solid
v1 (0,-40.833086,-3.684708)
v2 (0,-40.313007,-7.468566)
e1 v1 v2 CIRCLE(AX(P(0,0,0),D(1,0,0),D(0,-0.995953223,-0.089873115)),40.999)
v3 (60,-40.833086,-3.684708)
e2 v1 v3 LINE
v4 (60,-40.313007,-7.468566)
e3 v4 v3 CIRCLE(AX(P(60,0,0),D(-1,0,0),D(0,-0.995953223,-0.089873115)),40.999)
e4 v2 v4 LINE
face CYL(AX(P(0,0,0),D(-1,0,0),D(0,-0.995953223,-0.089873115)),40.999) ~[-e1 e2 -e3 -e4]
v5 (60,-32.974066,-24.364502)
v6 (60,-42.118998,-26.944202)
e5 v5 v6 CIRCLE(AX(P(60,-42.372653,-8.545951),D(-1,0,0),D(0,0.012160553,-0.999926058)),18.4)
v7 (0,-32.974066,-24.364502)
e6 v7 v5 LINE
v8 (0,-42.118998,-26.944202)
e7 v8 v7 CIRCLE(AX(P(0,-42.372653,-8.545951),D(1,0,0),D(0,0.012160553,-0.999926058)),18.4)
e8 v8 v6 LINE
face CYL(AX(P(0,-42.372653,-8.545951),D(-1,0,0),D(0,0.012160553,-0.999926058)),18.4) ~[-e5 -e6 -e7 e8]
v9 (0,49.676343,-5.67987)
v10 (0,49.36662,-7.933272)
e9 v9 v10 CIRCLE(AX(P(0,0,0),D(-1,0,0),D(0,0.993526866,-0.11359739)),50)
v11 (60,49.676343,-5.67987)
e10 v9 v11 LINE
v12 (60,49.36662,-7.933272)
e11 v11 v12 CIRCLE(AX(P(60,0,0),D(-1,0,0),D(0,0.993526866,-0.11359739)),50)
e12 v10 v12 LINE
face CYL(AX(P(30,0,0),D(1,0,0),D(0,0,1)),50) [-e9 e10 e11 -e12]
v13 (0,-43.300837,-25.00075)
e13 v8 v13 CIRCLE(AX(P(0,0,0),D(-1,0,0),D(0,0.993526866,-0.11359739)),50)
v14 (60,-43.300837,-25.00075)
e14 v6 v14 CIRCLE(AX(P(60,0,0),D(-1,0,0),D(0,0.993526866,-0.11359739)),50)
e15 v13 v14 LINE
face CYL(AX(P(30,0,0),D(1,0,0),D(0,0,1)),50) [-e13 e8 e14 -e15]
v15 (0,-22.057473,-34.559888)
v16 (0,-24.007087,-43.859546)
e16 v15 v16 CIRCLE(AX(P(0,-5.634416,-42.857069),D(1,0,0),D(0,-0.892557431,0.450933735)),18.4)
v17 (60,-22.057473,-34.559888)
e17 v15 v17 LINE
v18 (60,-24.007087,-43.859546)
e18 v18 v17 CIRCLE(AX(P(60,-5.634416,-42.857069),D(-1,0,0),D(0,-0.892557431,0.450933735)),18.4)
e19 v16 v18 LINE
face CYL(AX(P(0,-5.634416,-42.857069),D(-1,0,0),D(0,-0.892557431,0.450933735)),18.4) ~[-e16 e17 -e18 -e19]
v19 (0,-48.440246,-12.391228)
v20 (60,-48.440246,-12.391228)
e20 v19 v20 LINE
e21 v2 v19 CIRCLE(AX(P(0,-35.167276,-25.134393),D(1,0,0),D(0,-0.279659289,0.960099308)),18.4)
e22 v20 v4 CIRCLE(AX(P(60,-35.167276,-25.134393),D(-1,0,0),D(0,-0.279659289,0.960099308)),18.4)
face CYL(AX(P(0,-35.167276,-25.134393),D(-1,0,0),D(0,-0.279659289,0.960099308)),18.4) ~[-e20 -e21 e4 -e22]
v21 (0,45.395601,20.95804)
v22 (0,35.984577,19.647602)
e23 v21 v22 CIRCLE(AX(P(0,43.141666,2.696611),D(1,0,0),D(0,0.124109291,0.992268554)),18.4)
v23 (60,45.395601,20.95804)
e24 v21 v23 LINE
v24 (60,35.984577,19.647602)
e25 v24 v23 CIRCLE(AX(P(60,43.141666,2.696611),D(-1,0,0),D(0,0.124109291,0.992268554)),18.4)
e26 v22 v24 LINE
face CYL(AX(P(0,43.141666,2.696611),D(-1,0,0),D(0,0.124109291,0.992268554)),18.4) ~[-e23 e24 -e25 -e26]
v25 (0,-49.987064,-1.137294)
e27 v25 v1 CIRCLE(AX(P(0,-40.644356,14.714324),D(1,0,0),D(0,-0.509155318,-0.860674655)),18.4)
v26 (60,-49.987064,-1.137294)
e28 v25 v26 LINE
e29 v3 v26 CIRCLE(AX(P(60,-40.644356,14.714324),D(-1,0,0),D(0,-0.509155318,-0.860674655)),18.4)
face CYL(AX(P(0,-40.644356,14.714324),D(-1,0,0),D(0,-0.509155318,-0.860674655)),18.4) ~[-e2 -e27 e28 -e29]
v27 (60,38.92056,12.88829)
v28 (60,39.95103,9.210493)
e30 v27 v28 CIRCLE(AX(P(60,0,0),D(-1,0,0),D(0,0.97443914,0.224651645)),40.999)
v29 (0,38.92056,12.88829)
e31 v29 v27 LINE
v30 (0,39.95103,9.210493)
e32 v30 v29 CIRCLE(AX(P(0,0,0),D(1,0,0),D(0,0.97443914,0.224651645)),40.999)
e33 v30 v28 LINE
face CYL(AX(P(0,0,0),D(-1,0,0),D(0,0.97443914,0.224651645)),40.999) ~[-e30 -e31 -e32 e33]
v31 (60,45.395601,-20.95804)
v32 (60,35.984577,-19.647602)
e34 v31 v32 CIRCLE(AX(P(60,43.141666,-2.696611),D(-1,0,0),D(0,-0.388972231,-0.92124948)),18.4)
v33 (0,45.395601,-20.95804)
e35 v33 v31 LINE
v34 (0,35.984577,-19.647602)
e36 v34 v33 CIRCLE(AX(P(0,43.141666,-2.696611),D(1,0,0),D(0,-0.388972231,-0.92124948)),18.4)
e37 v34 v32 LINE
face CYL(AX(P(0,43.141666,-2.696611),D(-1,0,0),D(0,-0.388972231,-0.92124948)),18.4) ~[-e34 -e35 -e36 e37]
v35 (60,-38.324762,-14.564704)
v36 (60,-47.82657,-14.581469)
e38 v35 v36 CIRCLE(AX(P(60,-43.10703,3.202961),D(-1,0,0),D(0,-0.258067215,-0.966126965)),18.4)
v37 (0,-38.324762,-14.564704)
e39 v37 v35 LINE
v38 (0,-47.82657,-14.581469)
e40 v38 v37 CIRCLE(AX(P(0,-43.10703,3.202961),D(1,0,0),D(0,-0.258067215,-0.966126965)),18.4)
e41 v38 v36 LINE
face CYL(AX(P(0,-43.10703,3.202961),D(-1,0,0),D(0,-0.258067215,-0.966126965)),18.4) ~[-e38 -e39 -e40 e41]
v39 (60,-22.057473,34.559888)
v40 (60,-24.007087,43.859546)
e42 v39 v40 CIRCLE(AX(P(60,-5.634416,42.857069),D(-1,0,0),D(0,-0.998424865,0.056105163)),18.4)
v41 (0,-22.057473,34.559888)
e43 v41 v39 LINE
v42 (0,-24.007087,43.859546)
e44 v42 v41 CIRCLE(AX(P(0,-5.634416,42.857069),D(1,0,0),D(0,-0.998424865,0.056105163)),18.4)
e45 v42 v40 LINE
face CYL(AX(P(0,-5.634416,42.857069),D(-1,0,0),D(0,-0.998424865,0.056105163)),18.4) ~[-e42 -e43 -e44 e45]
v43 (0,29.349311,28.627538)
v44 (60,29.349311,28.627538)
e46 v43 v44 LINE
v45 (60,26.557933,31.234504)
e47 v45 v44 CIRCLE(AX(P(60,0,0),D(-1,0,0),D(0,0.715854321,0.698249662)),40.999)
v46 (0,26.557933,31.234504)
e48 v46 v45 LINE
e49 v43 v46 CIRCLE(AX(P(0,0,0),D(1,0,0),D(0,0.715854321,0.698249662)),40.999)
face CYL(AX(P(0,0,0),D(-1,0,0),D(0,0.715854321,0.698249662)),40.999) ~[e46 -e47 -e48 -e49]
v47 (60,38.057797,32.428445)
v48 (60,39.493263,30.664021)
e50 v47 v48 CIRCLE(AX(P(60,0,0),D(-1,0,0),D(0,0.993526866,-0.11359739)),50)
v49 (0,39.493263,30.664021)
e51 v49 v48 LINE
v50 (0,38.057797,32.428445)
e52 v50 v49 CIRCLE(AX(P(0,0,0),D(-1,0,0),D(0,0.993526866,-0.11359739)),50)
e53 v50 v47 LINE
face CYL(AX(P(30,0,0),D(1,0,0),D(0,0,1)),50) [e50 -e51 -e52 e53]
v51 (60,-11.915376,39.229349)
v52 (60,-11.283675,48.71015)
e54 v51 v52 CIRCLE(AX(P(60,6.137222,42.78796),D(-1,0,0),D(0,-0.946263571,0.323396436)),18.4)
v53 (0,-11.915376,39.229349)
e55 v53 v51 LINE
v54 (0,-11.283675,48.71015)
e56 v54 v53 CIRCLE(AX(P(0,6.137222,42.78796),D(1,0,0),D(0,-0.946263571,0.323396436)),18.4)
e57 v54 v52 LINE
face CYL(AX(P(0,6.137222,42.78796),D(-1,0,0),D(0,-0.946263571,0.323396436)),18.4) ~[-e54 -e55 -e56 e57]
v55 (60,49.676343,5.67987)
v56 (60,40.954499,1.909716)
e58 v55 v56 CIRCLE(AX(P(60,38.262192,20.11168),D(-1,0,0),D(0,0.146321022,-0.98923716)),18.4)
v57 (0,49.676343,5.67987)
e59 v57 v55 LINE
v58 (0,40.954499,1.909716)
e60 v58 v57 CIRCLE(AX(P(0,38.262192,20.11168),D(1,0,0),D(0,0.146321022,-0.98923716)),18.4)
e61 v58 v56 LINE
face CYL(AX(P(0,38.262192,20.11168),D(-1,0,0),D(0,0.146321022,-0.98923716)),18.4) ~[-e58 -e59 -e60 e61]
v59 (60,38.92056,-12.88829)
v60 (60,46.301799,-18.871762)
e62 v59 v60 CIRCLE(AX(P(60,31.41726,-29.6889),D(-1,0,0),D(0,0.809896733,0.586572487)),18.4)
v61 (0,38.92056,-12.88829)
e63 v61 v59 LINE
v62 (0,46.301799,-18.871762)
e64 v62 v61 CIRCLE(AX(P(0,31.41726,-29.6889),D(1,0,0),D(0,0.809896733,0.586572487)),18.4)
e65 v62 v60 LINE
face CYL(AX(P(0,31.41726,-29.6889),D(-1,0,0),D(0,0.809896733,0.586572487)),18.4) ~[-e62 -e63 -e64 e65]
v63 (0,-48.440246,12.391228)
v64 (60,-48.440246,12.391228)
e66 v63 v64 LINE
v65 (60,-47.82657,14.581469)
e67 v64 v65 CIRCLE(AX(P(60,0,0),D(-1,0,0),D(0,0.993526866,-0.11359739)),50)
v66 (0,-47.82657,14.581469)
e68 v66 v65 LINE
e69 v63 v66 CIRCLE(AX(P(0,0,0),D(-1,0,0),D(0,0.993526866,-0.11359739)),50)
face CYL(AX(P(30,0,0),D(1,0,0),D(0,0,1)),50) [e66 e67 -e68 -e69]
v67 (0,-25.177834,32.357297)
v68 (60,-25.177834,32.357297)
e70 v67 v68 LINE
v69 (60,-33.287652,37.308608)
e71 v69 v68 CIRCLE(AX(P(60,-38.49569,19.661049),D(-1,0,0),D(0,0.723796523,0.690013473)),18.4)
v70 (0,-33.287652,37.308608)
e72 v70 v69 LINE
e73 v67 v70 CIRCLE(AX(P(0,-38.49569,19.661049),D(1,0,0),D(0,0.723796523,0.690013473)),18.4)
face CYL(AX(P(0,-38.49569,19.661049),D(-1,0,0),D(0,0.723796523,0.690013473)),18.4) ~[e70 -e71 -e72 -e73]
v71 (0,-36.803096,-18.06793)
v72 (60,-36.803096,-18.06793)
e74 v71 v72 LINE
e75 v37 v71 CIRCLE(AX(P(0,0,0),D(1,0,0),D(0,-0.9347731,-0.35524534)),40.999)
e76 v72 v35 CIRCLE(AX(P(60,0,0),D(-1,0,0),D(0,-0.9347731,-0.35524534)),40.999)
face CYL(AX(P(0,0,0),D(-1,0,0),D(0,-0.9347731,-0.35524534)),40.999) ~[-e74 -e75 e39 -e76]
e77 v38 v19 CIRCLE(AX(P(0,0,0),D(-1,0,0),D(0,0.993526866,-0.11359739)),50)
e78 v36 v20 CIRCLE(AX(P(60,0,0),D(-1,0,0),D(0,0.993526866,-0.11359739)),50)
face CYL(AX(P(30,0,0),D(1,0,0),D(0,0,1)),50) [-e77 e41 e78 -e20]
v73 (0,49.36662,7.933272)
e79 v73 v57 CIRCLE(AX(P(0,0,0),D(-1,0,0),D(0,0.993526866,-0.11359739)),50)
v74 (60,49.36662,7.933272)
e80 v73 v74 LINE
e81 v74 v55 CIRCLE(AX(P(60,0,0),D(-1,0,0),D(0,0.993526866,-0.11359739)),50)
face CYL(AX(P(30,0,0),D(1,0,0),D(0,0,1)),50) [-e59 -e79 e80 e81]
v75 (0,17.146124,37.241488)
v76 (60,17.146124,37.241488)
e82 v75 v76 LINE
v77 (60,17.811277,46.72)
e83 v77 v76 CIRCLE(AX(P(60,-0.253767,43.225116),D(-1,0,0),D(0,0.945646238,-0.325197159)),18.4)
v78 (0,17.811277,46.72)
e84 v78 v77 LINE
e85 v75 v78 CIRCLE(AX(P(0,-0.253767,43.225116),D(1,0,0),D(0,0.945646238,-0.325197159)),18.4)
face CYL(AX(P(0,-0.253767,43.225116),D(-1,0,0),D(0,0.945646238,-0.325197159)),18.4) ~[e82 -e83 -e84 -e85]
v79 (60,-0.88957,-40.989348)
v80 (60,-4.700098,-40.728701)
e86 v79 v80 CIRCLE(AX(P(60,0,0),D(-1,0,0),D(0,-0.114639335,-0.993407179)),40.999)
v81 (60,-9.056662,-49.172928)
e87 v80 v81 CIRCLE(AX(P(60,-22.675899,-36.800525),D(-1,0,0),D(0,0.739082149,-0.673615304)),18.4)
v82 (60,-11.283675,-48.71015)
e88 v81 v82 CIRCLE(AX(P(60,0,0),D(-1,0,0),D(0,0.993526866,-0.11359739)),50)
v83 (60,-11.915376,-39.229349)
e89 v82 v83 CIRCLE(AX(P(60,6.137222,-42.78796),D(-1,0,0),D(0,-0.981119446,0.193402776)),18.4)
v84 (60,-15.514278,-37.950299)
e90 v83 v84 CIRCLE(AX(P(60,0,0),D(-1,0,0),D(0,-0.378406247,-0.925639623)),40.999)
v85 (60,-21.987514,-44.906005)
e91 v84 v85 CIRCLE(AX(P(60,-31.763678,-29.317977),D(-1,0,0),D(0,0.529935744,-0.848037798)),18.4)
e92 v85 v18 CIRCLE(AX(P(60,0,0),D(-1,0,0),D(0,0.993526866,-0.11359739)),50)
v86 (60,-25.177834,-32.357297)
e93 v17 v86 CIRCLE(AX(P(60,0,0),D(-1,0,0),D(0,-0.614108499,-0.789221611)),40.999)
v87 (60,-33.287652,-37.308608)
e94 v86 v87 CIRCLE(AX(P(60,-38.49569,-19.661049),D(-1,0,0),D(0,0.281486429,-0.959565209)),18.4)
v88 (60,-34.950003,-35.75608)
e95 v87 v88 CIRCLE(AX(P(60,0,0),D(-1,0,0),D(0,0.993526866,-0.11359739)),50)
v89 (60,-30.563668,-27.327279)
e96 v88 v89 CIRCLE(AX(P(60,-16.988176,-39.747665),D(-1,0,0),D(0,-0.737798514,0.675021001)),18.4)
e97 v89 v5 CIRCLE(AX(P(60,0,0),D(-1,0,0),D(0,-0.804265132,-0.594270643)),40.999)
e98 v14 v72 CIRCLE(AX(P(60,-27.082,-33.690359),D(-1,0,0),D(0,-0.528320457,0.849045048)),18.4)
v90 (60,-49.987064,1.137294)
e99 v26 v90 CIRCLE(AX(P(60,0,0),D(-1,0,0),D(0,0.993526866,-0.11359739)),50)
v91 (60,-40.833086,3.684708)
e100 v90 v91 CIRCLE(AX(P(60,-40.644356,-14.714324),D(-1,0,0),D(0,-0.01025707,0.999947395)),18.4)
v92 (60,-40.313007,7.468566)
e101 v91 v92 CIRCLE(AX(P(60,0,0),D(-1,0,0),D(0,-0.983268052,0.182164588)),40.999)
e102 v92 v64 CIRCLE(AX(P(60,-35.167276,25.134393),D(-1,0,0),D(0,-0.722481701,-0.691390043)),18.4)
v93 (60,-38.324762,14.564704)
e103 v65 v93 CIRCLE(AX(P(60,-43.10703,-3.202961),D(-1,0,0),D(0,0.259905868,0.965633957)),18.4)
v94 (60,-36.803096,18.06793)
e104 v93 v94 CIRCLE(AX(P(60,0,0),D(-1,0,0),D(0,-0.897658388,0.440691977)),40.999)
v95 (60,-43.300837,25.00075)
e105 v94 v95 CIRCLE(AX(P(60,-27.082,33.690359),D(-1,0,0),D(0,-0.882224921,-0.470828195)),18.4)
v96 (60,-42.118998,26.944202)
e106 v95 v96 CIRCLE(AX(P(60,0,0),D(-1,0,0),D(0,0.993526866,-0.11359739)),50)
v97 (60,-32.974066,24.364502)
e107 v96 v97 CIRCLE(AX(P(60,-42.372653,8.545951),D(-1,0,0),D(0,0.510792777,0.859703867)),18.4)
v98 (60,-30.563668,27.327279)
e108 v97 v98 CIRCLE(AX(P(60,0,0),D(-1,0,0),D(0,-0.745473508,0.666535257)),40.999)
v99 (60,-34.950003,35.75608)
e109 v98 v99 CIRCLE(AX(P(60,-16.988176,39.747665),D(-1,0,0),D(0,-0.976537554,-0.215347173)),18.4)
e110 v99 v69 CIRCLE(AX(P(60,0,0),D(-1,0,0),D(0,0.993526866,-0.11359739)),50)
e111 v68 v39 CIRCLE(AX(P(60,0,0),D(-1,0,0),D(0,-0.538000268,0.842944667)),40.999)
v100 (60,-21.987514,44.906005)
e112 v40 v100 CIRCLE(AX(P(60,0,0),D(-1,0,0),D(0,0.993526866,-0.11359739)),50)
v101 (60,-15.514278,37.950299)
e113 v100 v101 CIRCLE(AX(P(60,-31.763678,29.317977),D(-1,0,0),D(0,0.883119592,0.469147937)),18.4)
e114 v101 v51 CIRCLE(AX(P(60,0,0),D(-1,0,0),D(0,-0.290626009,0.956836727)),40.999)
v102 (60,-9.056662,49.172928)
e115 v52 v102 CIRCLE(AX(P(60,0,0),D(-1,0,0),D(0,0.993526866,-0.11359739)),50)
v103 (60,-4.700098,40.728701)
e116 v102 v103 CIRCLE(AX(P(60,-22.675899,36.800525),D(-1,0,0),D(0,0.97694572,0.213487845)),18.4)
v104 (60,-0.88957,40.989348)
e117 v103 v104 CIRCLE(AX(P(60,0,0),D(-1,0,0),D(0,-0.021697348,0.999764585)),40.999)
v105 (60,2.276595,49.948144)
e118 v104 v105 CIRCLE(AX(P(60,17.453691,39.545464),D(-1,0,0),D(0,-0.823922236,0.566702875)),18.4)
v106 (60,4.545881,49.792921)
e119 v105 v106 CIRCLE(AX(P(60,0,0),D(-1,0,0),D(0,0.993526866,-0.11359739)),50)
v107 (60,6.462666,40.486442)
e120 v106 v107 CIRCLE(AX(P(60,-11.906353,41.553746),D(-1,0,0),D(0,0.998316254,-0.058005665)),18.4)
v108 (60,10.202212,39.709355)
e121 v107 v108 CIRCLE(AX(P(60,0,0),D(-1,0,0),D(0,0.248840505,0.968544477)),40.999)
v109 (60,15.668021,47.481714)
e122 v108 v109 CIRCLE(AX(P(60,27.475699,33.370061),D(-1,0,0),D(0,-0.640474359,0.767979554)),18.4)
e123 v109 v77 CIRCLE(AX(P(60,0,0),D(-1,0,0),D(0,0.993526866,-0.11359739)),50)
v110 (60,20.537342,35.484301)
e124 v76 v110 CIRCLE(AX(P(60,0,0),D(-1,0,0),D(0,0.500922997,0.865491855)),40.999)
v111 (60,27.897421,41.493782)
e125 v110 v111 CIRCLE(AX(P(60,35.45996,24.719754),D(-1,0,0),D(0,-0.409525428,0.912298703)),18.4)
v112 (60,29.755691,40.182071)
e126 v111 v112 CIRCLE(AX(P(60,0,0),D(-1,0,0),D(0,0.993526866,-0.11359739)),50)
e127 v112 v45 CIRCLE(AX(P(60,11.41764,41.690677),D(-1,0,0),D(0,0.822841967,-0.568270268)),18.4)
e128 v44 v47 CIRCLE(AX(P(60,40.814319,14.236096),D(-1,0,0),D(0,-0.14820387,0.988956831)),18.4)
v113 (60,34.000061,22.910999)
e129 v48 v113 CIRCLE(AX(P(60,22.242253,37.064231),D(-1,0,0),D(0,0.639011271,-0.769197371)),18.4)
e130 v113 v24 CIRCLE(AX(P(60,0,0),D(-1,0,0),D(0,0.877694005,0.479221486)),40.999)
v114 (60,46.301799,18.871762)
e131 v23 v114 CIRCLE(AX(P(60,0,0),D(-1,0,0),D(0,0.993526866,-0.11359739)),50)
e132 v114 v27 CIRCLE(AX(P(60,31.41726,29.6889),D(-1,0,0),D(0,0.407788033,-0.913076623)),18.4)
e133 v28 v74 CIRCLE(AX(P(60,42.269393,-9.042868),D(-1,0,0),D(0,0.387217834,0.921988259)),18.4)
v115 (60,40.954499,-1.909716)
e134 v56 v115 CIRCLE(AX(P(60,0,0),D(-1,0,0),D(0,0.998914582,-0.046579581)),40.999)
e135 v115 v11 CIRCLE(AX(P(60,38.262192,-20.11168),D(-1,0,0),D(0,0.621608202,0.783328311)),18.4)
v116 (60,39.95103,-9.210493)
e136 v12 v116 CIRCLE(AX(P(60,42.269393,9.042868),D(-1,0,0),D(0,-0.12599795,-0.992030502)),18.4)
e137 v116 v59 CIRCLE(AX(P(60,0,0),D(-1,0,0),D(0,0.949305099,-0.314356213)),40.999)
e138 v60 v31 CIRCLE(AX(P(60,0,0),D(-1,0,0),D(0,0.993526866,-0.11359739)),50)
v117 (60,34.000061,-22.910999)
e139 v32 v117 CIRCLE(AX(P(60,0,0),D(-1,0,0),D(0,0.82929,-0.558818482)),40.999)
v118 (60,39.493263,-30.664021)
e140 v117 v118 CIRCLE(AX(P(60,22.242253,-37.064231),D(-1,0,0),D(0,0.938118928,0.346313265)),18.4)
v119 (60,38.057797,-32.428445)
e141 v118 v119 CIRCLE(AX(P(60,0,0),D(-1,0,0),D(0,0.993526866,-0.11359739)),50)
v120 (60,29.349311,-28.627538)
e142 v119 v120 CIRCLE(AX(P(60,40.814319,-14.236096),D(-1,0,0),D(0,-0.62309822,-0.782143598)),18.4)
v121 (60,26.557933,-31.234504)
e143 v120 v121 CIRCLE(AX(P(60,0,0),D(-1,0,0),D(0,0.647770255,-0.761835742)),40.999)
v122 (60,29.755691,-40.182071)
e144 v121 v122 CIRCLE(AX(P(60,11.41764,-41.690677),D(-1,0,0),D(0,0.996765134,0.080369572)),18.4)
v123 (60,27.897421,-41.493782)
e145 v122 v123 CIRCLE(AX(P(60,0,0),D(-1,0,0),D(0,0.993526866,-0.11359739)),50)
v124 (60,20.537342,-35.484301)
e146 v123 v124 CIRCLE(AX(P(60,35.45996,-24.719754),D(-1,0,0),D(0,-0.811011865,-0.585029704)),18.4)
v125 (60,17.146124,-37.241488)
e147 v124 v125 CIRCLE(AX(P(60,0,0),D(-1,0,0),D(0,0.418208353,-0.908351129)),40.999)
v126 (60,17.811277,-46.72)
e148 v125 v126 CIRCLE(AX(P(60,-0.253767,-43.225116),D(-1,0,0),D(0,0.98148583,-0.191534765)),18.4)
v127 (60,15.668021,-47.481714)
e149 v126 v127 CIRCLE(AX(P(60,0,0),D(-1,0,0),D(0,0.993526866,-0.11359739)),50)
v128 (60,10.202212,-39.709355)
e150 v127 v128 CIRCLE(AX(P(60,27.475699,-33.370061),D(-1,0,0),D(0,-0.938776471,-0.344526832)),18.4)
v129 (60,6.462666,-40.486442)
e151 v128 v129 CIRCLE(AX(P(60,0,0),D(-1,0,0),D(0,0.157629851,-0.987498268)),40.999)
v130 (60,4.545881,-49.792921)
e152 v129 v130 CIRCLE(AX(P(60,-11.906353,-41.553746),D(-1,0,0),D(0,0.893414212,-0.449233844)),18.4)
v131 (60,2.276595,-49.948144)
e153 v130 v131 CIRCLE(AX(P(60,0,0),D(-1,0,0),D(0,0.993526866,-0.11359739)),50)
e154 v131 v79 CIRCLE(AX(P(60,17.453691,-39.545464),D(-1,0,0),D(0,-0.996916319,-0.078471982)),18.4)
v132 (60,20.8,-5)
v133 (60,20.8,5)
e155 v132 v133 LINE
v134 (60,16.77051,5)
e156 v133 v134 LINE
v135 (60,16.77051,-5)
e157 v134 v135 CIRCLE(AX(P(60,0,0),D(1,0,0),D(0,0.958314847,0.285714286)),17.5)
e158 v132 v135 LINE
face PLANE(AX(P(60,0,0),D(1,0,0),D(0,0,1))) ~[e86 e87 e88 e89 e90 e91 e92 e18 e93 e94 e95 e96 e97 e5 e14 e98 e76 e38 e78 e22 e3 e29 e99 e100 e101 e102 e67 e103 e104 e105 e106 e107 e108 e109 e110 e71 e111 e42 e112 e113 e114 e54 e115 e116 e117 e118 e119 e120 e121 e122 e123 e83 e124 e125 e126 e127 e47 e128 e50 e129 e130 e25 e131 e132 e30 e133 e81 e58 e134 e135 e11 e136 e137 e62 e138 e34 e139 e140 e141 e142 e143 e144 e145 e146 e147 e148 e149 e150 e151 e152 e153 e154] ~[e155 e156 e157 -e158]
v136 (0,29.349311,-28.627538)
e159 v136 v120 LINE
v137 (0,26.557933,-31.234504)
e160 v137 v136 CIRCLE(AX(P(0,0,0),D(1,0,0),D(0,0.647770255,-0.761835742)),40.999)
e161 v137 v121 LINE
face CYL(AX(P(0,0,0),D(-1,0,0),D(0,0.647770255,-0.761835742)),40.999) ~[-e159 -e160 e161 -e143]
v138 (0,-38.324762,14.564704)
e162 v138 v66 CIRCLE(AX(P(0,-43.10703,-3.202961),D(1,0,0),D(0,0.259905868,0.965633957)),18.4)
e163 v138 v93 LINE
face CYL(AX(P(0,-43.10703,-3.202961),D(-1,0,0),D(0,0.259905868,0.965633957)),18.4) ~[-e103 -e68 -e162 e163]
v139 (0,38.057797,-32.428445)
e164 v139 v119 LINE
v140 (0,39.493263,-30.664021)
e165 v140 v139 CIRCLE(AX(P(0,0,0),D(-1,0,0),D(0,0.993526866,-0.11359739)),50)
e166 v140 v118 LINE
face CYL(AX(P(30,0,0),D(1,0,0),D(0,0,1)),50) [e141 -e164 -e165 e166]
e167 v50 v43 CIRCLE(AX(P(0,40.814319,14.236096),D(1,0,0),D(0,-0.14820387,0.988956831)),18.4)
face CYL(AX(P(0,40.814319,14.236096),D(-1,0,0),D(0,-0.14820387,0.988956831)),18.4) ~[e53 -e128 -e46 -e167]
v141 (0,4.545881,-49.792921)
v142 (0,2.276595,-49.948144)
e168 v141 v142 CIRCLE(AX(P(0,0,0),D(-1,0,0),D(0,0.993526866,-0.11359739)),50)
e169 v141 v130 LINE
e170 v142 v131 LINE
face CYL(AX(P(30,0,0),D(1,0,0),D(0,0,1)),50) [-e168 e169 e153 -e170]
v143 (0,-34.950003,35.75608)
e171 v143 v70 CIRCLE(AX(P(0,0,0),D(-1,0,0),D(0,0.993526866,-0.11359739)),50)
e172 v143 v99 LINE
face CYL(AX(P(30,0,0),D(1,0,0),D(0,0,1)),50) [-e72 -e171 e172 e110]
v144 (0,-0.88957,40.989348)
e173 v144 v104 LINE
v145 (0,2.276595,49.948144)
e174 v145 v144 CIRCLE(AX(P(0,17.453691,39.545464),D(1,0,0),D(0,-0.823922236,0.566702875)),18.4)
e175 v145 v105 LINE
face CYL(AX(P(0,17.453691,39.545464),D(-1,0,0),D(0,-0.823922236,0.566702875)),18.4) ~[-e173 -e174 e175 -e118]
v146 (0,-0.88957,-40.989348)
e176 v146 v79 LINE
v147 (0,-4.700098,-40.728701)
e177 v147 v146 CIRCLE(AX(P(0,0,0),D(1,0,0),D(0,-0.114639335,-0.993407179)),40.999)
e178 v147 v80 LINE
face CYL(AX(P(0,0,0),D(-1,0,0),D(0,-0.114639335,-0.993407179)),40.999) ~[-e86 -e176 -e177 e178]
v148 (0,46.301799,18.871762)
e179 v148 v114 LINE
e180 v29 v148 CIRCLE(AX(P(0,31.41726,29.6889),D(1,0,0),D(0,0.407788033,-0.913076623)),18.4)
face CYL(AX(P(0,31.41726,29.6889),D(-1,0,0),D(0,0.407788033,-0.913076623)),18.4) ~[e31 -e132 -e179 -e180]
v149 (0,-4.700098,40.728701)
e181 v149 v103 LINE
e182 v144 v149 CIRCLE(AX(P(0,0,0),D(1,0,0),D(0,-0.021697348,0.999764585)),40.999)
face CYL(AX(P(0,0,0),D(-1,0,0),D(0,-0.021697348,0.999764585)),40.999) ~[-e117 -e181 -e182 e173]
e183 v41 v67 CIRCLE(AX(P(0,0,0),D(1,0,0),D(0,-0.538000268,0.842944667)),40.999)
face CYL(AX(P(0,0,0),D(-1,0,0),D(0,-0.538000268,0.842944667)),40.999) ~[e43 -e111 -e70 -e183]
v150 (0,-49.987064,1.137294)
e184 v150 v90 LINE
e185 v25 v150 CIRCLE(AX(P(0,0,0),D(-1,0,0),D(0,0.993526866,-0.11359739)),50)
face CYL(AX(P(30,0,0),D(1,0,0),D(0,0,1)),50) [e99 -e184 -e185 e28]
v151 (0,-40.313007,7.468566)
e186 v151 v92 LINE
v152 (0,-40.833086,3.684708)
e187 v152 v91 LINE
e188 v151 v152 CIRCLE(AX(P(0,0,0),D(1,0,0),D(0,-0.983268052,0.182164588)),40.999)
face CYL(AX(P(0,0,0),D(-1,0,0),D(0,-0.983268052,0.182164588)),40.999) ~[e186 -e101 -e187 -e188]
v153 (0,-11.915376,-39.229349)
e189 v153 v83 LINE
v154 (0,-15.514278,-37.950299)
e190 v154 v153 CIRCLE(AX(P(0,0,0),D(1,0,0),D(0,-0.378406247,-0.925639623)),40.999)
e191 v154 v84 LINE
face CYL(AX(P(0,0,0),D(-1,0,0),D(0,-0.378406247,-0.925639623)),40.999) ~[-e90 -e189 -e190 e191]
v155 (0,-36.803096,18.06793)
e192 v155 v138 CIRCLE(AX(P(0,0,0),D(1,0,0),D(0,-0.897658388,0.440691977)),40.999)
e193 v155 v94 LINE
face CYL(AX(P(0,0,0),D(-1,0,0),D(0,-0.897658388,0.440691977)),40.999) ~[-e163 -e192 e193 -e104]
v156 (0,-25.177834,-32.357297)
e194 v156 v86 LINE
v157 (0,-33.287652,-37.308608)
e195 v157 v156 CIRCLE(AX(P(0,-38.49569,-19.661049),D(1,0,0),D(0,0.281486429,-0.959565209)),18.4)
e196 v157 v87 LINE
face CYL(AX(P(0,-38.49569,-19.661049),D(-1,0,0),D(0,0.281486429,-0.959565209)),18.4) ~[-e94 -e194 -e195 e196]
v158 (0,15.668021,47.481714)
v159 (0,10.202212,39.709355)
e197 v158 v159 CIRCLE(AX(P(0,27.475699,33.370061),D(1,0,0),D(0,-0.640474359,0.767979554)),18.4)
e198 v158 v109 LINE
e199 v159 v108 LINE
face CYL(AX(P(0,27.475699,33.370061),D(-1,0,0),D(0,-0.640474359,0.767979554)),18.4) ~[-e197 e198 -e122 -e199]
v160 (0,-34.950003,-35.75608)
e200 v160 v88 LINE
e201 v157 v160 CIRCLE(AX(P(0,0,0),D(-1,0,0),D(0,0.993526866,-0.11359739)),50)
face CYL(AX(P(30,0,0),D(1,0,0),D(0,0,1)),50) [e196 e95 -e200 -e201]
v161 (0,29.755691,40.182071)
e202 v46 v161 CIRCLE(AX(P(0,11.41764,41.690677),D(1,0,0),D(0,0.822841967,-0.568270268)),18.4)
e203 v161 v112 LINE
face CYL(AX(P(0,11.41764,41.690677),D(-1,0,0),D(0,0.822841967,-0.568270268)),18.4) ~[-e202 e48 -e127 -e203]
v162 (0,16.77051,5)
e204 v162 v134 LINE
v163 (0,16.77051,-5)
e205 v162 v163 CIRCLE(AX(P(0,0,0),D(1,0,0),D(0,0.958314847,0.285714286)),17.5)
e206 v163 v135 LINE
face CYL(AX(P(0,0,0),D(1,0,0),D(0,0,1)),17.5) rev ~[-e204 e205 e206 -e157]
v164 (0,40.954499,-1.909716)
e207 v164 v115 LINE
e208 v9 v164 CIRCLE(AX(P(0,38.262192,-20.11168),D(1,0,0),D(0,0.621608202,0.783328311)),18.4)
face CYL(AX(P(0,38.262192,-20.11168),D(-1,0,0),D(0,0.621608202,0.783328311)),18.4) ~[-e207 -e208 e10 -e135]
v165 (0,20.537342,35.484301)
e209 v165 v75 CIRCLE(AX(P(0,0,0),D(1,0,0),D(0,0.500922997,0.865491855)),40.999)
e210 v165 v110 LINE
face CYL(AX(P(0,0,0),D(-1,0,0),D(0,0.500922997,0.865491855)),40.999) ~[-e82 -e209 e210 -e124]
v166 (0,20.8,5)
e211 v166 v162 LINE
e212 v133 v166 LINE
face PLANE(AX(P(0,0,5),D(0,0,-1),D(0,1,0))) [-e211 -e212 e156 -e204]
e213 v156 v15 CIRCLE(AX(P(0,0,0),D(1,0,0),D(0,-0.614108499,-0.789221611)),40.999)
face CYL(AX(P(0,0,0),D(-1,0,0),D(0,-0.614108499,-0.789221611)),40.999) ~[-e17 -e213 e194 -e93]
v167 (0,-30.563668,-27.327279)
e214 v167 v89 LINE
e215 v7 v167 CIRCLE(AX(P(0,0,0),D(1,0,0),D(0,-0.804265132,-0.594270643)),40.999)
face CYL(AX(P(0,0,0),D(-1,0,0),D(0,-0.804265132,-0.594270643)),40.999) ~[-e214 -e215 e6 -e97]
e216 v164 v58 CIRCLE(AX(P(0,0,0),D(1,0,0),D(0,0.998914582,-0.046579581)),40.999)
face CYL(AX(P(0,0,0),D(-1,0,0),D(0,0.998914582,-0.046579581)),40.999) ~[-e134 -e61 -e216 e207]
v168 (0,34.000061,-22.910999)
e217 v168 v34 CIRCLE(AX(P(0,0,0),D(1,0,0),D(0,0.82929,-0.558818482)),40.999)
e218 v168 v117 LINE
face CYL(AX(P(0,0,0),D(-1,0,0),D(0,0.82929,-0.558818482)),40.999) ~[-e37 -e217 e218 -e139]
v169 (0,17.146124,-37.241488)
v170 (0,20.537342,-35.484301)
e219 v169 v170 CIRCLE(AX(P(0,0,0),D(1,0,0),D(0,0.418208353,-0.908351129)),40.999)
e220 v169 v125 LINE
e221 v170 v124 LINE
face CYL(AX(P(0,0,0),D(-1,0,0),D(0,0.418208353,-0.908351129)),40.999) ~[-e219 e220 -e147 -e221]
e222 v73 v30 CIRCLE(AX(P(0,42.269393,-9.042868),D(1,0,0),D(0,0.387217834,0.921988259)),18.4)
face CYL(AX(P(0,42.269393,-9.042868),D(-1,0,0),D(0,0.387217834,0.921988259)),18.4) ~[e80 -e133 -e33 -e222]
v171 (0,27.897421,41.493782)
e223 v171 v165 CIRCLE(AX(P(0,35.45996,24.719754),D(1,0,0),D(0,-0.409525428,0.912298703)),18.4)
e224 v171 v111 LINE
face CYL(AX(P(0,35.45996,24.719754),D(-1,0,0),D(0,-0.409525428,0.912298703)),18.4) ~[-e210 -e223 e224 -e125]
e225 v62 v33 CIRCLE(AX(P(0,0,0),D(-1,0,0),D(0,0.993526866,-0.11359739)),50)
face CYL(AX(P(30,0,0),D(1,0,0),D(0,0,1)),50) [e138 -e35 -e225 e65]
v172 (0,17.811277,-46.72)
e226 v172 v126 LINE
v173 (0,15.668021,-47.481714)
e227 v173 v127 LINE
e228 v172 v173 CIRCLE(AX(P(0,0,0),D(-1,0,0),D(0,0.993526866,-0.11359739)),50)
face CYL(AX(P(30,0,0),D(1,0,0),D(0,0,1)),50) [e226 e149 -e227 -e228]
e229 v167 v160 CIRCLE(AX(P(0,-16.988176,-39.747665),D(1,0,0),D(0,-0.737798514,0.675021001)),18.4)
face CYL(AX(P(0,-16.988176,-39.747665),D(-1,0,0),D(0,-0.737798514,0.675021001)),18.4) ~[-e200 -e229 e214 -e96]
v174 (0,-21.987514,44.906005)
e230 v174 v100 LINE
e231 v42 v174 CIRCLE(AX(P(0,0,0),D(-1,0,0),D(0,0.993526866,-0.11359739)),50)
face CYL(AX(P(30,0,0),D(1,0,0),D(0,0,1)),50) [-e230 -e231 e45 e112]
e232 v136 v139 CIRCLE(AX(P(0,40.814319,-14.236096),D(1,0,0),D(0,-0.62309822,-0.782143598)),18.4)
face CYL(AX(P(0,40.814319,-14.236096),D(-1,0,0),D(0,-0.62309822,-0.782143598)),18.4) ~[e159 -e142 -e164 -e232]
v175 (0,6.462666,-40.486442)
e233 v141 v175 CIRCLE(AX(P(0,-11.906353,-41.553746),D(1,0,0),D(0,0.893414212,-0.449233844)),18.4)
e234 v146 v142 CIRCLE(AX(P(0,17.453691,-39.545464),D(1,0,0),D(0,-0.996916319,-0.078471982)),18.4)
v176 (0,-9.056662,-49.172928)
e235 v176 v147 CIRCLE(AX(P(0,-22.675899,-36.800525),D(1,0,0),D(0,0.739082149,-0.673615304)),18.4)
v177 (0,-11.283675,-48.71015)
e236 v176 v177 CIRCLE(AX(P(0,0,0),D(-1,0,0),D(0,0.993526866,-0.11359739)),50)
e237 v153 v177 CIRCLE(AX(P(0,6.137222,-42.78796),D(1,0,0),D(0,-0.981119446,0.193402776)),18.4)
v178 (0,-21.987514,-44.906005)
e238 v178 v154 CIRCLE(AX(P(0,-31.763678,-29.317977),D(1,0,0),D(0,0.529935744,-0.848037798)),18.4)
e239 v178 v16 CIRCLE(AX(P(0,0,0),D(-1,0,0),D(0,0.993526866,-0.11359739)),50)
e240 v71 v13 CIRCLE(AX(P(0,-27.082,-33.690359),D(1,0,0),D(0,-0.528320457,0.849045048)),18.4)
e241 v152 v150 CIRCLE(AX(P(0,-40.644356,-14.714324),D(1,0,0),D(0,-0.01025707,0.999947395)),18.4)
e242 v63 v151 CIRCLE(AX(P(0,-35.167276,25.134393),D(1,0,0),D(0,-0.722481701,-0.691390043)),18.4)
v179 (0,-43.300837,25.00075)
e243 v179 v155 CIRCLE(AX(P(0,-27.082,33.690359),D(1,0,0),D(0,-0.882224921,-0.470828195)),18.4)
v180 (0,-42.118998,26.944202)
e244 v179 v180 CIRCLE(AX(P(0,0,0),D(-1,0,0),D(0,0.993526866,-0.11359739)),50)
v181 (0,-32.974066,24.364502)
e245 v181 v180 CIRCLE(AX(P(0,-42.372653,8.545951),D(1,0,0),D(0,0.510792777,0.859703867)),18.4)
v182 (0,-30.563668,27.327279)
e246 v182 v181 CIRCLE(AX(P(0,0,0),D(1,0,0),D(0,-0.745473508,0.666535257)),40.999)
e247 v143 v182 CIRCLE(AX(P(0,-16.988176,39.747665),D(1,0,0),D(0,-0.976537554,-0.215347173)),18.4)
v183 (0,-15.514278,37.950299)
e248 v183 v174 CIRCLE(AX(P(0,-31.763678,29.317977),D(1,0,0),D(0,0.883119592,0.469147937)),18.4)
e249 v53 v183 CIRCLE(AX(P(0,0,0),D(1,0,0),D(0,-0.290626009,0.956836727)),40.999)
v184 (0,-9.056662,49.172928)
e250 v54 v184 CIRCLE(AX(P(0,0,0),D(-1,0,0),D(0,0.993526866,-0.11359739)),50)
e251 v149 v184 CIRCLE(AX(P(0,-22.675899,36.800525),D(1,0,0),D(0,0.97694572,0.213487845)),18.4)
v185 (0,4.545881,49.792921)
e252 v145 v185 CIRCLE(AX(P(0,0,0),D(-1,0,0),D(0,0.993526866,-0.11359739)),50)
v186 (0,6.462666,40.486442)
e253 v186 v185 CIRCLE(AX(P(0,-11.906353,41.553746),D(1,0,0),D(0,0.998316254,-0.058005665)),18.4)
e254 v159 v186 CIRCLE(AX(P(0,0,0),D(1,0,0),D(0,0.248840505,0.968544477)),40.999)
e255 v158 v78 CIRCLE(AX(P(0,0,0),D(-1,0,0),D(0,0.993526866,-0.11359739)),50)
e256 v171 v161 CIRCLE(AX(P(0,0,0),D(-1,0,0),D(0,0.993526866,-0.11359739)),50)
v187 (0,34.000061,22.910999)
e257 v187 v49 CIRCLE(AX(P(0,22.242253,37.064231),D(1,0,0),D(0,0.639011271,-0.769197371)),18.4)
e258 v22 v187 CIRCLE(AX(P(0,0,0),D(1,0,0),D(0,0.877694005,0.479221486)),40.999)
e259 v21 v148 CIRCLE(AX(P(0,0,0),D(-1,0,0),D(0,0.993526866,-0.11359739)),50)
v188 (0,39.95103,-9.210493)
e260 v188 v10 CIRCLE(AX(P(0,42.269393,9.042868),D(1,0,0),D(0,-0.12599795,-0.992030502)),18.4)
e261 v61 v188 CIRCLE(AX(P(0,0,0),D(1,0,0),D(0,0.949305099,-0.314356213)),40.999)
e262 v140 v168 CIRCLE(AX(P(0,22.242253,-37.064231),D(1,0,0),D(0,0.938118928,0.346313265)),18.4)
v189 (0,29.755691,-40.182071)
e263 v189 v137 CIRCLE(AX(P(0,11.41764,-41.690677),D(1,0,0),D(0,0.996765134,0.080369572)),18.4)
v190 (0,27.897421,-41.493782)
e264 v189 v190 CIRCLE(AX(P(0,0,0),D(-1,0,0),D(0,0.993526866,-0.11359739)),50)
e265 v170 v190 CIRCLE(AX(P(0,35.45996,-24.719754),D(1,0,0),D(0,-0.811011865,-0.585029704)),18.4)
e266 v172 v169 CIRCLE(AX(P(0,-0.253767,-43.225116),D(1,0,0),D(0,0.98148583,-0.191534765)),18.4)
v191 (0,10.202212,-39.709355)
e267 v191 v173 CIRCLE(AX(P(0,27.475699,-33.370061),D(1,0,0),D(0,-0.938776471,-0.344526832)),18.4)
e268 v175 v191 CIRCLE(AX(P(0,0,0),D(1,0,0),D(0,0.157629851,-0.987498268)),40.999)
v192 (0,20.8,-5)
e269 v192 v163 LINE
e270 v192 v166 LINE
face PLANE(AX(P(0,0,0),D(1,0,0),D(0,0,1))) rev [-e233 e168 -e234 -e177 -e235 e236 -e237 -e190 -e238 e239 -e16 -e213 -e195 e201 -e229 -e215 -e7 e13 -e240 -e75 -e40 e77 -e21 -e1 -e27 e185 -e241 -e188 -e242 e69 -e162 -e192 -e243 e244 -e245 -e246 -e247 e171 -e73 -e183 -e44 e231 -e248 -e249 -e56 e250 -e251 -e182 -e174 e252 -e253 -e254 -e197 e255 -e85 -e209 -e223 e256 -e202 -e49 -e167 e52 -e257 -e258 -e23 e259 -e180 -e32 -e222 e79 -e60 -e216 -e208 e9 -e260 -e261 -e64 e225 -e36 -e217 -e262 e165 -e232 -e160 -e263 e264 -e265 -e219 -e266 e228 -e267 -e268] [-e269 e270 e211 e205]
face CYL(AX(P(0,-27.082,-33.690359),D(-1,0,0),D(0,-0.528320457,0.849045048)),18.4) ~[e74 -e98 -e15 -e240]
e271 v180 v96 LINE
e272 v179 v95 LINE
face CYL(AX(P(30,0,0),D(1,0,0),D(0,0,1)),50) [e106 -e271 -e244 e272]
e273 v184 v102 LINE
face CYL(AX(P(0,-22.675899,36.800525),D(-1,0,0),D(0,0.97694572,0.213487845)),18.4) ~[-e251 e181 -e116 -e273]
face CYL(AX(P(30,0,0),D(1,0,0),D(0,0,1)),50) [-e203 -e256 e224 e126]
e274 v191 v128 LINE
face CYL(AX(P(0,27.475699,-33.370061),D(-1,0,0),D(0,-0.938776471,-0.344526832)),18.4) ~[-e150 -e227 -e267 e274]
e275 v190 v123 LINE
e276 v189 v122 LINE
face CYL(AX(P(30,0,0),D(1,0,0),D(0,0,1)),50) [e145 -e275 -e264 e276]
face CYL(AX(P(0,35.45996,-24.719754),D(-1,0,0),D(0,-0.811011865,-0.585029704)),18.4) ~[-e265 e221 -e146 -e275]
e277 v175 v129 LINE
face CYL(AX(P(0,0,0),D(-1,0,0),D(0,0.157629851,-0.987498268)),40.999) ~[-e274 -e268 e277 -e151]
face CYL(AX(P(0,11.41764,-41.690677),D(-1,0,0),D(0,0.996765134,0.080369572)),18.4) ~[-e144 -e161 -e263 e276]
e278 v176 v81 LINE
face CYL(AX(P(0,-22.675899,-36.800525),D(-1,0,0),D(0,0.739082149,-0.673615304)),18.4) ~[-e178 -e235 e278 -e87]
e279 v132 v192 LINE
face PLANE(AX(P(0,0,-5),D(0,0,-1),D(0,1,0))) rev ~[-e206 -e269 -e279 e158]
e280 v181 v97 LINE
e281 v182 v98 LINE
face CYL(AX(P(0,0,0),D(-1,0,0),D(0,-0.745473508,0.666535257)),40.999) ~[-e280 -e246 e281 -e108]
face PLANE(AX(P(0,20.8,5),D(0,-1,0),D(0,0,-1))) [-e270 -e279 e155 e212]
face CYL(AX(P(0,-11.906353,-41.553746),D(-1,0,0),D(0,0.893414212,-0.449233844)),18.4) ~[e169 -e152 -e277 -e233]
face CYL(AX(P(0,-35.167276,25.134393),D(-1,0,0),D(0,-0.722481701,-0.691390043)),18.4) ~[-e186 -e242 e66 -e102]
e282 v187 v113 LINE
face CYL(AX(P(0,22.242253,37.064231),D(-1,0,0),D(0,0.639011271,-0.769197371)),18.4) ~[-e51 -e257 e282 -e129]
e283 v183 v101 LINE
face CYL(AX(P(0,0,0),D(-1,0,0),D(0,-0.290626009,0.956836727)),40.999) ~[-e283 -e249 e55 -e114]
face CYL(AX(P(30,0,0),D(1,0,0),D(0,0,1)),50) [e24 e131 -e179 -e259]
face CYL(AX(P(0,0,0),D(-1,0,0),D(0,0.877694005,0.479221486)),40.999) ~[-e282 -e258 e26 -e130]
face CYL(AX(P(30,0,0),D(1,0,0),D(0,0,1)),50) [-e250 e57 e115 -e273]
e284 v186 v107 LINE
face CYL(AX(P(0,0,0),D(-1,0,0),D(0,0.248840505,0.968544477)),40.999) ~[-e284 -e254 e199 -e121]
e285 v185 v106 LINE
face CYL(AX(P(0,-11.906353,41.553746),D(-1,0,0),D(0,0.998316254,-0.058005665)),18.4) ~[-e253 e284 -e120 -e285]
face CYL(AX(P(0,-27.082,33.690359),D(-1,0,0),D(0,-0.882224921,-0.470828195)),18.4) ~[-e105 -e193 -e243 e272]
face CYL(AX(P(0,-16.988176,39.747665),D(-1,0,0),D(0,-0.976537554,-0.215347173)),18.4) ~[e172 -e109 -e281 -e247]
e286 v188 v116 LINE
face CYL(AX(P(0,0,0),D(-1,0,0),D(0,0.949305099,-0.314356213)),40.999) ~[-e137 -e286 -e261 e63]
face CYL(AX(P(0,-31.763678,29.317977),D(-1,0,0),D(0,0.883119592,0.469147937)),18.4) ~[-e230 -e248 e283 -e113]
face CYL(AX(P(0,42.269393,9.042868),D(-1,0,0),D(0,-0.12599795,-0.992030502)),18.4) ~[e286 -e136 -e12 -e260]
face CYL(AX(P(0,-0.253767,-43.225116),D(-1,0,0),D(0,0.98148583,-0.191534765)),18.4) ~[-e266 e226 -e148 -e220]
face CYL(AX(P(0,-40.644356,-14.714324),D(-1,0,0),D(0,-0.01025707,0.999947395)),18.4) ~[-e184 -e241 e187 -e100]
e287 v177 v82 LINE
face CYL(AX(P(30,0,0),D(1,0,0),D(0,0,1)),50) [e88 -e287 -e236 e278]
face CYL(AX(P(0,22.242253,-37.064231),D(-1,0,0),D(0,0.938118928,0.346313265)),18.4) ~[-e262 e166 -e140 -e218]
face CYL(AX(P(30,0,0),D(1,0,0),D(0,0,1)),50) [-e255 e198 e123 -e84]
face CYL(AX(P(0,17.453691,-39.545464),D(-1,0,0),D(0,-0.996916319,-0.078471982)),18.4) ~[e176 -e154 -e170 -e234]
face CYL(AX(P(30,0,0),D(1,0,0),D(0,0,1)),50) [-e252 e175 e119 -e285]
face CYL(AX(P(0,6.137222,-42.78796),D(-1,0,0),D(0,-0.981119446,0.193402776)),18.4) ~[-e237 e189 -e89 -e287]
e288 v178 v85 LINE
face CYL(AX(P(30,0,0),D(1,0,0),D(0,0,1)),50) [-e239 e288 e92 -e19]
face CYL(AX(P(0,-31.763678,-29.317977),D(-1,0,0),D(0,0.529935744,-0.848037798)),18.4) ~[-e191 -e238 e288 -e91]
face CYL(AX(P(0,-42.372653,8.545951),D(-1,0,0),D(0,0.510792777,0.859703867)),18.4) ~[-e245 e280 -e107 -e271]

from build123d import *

# Parameters (mm, degrees)
BASPROSKE_W     = 60
BASPROSKE_H     = 50
TOOTHCUT_DEPTH  = 93.736184955
TEETHCUTS_COUNT = 23
TEETHCUTS_ANGLE = 344.347826087
BORSKE_R        = 17.5
BORE_DEPTH      = 60.0000508
KEYSKE_W        = 10
KEYSKE_H        = 20.8
KEYWAY_DEPTH    = 60.0000508


with BuildPart() as part:
    # BasProSke → Base-Revolve (revolve)
    with BuildSketch(Plane(origin=(0, 0, 0), x_dir=(1, 0, 0), z_dir=(0, 1, 0)), mode=Mode.PRIVATE) as base_revolve_sk:
        with Locations((30, 25)):
            Rectangle(BASPROSKE_W, BASPROSKE_H)
    revolve(base_revolve_sk.sketch.rotate(Axis((-10, 0, 0), (1, 0, 0)), 180), axis=Axis((-10, 0, 0), (1, 0, 0)))

    # TooCutSke → ToothCut (cut, through all)
    with BuildSketch(Plane(origin=(0, 0, 0), x_dir=(0, 0, -1), z_dir=(1, 0, 0))):
        with BuildLine():
            ThreePointArc((1.90971626, 40.954498957), (0, 40.999), (-1.90971626, 40.954498957))
            ThreePointArc((-1.90971626, 40.954498957), (-3.228022445, 45.57670564), (-5.698439072, 49.699783071))
            ThreePointArc((-5.698439072, 49.699783071), (0, 50.0254), (5.698439072, 49.699783071))
            ThreePointArc((5.698439072, 49.699783071), (3.228022445, 45.57670564), (1.90971626, 40.954498957))
        make_face()
    toothcut = extrude(amount=TOOTHCUT_DEPTH, mode=Mode.SUBTRACT)

    # TeethCuts: ToothCut ×23 about axis
    teethcuts_axis = Axis((-10, 0, 0), (1, 0, 0))
    for i in range(1, TEETHCUTS_COUNT):
        add(toothcut.rotate(teethcuts_axis, i * TEETHCUTS_ANGLE / (TEETHCUTS_COUNT - 1)), mode=Mode.SUBTRACT)

    # BorSke → Bore (cut, symmetric)
    with BuildSketch(Plane(origin=(0, 0, 0), x_dir=(0, 0, -1), z_dir=(1, 0, 0))):
        with Locations(Location((0, 0, 0), (0, 0, 180))):
            Circle(BORSKE_R)
    extrude(amount=BORE_DEPTH, both=True, mode=Mode.SUBTRACT)

    # KeySke → Keyway (cut, symmetric)
    with BuildSketch(Plane(origin=(0, 0, 0), x_dir=(0, 0, -1), z_dir=(1, 0, 0))):
        with Locations((0, 10.4)):
            Rectangle(KEYSKE_W, KEYSKE_H)
    extrude(amount=KEYWAY_DEPTH, both=True, mode=Mode.SUBTRACT)


solid = part.part
